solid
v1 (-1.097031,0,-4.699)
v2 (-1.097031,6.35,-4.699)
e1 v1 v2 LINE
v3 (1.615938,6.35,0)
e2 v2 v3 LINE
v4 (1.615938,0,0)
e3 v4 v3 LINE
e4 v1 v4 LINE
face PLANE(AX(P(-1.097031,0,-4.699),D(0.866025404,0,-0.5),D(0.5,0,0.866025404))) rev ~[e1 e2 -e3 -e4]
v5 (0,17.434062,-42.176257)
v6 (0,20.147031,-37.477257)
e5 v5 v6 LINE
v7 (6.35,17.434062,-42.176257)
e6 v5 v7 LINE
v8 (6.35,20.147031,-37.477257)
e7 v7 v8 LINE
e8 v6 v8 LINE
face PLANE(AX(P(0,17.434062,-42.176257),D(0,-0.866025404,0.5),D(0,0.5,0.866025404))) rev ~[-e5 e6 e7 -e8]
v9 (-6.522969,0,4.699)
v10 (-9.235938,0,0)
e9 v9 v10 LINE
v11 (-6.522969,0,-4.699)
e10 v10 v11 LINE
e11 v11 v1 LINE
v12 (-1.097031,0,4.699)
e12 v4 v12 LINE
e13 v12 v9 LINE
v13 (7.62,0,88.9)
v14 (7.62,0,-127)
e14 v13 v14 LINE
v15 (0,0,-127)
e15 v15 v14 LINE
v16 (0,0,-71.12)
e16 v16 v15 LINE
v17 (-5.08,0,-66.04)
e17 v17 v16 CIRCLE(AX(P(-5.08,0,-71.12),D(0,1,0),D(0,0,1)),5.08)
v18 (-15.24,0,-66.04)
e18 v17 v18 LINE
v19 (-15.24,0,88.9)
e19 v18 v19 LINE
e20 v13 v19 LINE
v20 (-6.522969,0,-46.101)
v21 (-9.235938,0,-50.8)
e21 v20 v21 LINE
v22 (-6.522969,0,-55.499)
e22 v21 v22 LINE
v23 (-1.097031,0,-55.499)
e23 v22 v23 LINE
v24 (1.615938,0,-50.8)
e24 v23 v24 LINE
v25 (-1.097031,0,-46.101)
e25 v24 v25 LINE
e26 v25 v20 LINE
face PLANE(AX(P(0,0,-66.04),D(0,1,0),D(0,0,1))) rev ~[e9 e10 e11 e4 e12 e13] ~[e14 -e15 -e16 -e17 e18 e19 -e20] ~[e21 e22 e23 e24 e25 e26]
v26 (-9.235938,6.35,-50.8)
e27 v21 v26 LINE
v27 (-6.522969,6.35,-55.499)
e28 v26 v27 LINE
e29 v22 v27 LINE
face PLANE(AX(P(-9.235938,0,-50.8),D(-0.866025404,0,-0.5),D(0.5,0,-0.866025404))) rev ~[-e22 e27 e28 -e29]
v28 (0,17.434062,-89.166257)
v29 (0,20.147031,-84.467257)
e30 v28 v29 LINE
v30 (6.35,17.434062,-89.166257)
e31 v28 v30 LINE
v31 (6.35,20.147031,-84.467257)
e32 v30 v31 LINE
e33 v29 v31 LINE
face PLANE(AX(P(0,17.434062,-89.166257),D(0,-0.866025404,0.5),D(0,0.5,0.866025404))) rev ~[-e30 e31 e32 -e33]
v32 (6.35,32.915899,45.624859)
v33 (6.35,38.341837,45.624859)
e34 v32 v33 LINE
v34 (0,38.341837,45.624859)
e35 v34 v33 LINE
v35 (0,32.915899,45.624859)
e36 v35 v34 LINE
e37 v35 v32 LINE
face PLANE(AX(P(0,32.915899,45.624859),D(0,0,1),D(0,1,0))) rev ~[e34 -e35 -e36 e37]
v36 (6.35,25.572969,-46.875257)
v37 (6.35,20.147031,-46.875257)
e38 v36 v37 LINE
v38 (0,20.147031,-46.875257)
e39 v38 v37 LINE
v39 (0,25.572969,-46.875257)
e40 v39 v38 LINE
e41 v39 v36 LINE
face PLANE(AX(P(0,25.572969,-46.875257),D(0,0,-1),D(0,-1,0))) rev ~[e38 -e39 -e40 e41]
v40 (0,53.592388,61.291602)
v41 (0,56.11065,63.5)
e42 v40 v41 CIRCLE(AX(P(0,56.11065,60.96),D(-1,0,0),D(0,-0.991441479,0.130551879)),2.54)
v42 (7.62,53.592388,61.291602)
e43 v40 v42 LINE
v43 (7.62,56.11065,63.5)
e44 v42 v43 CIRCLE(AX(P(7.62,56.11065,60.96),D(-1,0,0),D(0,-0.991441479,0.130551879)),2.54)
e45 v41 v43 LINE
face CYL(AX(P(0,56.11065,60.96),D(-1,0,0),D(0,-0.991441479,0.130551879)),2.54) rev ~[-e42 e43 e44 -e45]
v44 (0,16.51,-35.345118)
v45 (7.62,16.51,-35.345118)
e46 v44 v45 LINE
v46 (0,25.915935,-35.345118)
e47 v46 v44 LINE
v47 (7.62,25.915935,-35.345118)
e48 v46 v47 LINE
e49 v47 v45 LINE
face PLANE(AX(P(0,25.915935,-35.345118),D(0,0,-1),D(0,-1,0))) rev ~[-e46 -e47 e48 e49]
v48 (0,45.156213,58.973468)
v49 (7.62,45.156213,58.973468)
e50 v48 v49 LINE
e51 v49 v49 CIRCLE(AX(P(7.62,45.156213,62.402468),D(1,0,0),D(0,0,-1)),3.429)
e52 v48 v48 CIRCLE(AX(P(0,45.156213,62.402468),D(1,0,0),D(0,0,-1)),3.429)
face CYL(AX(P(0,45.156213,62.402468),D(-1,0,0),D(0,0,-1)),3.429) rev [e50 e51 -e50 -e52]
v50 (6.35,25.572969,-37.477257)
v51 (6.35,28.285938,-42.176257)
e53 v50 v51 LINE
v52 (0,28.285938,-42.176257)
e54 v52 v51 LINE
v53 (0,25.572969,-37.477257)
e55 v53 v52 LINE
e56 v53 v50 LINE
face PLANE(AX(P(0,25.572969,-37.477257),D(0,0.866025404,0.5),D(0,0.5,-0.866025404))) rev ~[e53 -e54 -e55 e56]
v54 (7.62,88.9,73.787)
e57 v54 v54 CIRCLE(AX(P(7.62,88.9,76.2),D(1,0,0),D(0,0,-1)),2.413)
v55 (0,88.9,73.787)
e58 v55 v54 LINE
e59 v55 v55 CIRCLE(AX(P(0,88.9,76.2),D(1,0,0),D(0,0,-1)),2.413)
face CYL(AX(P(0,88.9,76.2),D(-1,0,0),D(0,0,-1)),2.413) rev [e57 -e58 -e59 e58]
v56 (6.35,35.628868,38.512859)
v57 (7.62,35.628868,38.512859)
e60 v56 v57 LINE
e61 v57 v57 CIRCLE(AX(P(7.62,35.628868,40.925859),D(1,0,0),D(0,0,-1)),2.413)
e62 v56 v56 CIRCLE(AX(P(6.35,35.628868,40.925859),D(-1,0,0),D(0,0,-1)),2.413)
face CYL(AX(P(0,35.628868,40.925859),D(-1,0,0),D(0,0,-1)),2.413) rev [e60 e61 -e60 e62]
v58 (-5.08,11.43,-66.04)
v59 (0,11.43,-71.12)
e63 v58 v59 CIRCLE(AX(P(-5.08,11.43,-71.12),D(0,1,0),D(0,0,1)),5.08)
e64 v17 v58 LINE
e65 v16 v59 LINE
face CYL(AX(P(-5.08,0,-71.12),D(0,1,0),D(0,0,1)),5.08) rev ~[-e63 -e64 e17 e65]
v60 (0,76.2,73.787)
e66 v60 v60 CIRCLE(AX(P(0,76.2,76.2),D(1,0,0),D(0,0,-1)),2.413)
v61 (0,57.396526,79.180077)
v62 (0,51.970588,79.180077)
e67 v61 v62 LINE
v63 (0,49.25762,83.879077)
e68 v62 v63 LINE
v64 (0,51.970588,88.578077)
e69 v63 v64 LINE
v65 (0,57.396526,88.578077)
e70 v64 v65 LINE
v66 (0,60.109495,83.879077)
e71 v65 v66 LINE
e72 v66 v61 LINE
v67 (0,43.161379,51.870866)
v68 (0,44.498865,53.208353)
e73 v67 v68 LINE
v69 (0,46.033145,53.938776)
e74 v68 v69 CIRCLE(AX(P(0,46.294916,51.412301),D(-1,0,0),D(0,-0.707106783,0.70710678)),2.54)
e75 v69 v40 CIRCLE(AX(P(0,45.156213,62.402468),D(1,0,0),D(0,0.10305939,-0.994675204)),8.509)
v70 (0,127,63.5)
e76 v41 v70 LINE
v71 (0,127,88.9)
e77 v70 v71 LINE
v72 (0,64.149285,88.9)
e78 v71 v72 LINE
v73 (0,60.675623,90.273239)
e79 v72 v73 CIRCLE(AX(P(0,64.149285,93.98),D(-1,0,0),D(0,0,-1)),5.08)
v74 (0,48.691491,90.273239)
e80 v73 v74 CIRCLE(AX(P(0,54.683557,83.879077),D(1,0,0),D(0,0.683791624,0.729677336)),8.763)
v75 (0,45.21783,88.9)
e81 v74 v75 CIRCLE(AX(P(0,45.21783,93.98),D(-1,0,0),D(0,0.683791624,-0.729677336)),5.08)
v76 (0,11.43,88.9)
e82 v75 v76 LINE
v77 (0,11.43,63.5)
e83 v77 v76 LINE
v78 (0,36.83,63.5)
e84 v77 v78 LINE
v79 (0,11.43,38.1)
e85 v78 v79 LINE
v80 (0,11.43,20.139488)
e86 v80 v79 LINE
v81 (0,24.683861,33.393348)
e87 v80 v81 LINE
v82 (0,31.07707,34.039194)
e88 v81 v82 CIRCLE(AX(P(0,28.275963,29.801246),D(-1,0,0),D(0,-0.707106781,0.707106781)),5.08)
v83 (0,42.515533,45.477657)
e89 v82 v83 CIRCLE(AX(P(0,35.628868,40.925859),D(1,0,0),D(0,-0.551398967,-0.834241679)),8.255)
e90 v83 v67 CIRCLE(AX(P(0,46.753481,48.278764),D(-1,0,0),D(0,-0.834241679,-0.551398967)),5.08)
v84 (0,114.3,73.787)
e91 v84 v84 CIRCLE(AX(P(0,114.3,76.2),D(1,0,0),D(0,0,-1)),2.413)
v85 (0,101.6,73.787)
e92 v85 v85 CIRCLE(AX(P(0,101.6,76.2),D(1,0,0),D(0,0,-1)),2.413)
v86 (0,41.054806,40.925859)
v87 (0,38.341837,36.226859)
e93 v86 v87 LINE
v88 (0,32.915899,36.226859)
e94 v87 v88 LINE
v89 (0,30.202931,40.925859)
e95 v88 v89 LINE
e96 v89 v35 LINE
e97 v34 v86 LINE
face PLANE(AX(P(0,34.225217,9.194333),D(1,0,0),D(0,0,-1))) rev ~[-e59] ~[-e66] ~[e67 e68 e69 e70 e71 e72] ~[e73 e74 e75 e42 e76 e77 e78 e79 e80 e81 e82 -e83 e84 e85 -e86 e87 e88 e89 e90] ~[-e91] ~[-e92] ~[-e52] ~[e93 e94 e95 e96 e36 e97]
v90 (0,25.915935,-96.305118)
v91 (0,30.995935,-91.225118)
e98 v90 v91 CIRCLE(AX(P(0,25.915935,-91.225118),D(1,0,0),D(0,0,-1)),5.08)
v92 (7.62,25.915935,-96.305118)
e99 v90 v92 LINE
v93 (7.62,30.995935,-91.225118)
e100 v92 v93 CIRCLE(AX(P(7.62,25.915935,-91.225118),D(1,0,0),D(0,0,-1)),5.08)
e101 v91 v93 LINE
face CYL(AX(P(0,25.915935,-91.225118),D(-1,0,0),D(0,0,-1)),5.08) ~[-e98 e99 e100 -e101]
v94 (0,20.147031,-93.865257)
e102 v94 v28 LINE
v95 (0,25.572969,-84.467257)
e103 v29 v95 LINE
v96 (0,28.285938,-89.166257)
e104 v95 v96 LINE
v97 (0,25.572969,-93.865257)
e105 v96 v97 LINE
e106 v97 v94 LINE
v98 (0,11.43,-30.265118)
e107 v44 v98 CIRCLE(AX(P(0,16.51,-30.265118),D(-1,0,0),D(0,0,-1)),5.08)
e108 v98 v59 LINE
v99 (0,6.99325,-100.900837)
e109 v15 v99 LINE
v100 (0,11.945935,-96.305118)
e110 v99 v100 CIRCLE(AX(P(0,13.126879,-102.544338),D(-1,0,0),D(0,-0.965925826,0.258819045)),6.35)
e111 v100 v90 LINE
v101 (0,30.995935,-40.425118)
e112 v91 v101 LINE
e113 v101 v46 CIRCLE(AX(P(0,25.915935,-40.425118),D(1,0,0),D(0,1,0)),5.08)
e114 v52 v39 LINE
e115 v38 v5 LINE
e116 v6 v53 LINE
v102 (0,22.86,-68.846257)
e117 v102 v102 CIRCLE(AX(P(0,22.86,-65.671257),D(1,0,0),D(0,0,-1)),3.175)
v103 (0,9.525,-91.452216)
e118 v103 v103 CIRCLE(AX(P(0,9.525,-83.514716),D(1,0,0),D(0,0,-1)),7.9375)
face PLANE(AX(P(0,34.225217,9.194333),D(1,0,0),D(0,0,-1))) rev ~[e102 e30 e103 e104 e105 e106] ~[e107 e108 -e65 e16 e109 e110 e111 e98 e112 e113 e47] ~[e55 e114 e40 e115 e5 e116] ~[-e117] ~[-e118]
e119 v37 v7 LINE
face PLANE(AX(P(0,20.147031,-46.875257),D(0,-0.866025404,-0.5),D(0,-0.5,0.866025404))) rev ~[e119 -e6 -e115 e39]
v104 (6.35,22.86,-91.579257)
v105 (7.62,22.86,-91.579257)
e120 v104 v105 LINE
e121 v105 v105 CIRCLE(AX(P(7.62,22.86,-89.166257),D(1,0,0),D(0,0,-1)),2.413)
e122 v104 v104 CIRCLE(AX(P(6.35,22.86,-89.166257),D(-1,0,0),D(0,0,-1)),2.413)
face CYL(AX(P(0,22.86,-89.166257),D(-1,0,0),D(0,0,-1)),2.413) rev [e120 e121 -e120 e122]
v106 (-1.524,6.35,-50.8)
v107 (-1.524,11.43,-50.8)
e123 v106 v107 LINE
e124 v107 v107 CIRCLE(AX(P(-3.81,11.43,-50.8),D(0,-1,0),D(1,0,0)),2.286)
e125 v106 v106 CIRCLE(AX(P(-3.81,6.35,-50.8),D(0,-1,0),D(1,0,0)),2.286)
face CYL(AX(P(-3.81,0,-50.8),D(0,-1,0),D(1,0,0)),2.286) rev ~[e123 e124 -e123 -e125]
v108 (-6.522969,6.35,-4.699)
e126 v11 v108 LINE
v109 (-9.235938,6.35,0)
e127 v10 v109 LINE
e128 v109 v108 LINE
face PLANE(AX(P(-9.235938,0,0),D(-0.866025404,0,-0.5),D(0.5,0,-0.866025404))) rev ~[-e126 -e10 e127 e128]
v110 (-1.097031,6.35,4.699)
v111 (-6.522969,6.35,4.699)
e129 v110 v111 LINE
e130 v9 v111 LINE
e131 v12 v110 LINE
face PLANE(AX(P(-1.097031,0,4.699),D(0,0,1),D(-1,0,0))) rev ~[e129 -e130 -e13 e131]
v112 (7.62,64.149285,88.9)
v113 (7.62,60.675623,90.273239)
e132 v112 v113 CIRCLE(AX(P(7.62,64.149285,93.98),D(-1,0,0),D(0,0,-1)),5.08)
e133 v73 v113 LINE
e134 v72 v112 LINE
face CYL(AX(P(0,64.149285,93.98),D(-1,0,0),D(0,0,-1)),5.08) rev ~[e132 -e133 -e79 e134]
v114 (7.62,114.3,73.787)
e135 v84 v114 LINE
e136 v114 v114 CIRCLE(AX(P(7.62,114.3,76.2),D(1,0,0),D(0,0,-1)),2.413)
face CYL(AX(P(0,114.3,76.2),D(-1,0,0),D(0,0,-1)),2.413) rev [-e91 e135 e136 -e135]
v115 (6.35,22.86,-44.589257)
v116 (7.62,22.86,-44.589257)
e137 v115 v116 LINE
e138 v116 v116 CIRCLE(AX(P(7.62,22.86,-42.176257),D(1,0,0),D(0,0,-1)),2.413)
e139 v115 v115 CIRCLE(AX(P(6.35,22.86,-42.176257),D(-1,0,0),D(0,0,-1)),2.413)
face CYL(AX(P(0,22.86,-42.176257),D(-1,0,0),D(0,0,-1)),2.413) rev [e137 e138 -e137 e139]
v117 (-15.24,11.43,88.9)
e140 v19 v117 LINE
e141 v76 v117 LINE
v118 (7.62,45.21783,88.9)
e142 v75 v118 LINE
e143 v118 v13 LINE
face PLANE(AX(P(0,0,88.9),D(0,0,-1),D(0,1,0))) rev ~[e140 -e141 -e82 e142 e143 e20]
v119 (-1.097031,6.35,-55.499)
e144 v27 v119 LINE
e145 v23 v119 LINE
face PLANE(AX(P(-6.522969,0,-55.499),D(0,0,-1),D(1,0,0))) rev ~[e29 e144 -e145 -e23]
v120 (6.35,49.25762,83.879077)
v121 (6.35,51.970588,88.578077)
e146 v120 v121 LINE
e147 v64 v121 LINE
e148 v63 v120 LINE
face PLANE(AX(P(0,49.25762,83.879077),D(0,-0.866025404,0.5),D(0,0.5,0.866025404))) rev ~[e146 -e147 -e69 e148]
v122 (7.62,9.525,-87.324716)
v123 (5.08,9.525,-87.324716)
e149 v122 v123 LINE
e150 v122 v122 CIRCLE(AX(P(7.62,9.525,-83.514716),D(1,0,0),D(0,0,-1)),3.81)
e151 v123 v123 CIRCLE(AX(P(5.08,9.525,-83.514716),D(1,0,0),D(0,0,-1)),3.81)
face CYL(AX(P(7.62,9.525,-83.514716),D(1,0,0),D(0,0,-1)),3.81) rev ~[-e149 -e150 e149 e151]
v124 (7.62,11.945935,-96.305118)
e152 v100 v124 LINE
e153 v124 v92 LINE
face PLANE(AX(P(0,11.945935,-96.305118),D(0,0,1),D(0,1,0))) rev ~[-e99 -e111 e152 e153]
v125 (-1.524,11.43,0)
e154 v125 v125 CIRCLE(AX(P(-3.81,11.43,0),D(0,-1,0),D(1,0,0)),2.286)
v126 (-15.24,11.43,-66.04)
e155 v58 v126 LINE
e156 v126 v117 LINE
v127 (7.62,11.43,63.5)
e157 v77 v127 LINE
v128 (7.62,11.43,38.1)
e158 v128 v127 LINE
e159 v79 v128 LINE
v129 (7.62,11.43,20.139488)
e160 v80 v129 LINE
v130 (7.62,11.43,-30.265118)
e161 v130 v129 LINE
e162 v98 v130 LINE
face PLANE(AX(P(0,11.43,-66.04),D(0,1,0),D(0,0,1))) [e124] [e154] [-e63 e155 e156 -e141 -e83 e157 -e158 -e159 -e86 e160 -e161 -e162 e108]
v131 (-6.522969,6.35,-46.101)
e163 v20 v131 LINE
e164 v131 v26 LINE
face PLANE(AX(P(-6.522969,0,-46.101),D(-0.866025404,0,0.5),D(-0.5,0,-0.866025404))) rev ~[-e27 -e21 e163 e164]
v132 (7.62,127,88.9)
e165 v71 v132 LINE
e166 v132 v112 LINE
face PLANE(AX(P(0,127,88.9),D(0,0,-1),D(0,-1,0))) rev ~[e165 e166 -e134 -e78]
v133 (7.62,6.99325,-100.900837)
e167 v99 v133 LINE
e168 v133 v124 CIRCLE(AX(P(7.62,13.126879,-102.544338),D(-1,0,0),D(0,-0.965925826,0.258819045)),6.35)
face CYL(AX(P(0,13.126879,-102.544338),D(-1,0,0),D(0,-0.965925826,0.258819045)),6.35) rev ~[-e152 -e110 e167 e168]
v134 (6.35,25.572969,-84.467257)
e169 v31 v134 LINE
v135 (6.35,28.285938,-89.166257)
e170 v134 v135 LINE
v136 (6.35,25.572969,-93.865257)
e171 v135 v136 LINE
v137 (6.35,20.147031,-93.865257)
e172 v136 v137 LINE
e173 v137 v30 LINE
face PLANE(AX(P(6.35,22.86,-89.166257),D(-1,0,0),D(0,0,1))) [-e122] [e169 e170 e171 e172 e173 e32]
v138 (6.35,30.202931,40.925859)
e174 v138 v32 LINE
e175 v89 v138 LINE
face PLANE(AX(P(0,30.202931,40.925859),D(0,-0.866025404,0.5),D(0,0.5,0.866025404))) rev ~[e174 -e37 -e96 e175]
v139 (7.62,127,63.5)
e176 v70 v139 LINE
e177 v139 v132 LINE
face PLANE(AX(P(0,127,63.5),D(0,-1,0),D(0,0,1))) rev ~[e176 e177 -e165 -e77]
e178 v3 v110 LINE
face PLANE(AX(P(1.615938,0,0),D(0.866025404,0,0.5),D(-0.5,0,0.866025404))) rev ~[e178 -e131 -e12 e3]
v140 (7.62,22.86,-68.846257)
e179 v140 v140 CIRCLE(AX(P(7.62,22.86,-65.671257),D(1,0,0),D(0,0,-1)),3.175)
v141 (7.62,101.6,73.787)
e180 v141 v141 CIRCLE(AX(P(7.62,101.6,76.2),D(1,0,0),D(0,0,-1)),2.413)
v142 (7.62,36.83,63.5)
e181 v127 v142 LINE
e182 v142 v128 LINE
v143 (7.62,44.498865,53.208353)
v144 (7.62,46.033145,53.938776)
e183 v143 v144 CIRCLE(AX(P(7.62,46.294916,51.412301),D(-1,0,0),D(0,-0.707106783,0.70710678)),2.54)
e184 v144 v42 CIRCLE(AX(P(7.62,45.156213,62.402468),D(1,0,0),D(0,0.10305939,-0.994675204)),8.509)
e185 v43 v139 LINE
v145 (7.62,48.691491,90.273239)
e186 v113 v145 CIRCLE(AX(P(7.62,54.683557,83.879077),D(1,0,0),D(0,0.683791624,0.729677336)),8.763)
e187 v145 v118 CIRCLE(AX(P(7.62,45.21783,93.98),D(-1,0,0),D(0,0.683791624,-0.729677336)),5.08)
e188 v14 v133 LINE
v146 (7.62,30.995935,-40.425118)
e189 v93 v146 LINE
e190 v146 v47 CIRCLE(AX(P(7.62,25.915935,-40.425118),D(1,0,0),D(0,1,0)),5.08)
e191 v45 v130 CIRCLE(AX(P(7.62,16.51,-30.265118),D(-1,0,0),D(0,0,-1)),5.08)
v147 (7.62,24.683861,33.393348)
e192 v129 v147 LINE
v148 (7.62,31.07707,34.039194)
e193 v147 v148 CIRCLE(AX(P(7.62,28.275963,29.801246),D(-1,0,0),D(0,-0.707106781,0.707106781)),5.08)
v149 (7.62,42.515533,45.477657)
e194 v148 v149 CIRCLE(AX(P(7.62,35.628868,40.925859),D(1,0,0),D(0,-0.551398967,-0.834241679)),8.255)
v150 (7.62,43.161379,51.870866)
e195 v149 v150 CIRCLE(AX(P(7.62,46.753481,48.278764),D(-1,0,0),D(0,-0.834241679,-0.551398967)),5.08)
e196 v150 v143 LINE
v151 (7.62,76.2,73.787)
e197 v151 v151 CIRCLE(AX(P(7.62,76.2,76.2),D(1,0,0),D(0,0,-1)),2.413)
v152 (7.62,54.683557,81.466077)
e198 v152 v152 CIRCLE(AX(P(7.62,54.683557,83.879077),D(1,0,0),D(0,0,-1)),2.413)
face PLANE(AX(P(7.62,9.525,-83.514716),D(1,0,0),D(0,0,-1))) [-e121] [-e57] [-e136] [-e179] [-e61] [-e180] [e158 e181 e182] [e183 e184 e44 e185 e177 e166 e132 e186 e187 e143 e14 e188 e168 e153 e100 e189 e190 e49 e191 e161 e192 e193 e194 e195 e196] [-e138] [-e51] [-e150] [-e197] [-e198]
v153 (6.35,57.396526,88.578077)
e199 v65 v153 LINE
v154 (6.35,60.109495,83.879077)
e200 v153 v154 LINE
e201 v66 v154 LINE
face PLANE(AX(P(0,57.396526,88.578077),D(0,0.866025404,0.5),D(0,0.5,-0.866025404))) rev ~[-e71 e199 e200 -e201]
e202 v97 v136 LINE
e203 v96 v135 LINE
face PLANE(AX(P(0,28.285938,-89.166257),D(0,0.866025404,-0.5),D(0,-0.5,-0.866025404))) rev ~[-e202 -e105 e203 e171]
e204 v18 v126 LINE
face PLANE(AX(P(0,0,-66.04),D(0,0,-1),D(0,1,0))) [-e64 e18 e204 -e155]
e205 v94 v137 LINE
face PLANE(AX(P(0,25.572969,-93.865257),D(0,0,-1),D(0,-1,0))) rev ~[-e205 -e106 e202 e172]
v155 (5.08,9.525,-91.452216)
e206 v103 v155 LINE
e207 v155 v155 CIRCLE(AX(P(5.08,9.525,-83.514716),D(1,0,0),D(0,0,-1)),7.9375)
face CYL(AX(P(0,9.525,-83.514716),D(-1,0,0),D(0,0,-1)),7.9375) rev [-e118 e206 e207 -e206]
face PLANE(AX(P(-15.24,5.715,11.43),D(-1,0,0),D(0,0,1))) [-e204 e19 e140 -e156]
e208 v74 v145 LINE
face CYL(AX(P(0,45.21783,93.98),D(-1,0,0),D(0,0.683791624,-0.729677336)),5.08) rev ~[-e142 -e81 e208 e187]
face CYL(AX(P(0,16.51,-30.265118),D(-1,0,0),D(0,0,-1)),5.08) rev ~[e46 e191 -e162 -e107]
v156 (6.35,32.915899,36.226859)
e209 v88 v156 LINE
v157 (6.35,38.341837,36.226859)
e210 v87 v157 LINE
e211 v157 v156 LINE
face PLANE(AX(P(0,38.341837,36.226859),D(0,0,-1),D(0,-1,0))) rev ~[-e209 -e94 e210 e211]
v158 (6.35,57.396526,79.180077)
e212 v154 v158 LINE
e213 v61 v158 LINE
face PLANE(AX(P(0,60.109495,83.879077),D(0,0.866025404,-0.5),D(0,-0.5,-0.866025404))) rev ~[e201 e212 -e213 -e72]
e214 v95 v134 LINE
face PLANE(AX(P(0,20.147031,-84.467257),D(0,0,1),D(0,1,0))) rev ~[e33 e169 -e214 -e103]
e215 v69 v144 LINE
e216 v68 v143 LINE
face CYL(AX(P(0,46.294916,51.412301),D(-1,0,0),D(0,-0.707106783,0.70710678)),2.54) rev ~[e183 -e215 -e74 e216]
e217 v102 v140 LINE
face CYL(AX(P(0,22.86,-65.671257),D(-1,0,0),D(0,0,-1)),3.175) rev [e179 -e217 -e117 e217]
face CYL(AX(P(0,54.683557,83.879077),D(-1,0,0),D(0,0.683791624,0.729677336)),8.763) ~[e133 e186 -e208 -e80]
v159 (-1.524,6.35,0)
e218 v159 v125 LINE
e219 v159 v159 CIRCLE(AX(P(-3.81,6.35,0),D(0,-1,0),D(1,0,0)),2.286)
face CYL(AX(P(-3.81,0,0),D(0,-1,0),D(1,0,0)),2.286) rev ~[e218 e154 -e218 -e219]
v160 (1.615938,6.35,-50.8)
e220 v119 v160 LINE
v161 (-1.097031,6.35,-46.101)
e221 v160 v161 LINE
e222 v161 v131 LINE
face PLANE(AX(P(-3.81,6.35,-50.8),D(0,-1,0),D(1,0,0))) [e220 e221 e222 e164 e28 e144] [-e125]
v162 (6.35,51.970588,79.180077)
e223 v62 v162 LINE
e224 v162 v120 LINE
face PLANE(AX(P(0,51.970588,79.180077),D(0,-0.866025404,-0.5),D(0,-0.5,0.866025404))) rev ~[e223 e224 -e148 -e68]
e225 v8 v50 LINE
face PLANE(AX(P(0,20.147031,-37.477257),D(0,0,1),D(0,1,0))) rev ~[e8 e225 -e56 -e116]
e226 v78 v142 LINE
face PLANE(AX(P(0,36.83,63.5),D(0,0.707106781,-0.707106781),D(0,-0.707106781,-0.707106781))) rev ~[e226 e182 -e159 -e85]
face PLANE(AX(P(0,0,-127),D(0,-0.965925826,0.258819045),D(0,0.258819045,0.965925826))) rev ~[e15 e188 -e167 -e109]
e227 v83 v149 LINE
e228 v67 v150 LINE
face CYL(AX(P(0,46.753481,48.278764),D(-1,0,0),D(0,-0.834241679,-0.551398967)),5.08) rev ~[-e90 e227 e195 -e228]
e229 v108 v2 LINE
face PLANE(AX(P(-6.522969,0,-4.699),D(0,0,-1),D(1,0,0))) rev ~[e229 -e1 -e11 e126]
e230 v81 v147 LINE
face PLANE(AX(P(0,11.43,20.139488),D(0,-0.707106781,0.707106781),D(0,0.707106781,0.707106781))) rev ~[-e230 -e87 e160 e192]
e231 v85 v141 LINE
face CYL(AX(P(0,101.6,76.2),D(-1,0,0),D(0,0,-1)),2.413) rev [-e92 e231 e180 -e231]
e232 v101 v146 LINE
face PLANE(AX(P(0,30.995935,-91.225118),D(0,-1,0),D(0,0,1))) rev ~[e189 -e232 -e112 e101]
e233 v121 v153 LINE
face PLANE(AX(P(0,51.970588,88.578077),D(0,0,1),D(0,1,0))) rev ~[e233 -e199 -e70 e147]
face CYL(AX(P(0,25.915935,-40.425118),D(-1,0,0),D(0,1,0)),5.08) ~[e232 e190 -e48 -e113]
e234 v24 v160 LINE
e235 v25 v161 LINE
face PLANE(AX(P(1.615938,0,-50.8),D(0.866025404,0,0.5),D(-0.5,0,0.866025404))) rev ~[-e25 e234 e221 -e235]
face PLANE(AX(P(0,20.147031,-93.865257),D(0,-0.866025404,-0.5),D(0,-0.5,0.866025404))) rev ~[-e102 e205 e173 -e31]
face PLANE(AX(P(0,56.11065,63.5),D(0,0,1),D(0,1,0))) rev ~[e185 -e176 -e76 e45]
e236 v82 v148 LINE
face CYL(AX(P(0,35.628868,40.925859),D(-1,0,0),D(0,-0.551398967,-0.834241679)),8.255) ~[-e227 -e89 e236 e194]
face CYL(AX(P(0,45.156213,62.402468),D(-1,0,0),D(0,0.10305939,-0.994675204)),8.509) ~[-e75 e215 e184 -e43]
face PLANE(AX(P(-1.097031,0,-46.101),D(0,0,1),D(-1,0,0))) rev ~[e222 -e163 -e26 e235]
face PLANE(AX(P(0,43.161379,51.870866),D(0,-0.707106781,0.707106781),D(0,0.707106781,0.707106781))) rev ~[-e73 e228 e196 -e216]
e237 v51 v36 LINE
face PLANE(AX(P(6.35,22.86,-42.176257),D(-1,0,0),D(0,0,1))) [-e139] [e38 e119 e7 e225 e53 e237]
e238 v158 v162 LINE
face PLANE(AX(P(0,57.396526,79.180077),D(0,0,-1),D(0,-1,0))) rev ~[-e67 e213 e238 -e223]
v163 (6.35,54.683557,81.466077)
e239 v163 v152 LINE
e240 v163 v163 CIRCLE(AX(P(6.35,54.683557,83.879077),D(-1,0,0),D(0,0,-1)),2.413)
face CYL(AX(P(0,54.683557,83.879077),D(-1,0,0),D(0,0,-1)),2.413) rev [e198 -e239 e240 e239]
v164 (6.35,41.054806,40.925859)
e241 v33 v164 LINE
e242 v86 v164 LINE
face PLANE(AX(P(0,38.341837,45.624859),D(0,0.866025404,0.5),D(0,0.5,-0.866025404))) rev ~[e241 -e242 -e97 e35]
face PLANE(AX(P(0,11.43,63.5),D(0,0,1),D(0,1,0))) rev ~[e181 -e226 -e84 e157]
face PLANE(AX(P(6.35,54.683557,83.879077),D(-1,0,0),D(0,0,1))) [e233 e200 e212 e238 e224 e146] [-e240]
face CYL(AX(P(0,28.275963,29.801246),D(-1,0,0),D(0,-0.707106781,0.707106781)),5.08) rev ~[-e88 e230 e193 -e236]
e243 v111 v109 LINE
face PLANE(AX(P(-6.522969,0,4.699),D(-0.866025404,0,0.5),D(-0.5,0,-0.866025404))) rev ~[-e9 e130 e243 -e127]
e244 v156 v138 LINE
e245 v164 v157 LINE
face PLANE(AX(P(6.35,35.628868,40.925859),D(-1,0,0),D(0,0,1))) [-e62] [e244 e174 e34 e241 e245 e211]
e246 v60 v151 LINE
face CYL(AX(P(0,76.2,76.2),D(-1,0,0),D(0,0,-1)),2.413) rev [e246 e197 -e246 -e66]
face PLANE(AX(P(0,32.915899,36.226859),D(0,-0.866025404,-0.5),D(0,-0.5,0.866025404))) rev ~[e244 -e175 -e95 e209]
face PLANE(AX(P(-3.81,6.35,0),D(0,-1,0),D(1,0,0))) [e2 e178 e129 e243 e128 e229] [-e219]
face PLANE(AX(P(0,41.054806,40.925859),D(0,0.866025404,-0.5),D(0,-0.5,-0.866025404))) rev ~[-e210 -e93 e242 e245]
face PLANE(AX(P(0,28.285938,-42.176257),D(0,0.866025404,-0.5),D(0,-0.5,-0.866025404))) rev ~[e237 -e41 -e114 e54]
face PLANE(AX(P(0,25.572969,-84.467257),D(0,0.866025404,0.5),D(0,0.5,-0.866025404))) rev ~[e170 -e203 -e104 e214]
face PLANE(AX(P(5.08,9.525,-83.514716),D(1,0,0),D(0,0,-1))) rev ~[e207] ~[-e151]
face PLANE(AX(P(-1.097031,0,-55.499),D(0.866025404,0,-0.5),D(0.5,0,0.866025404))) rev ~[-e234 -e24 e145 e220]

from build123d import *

# Parameters (mm, degrees)
SKETCH1_R           = 7.9375
SKETCH1_R_2         = 2.413
SKETCH1_R_3         = 3.175
SKETCH1_R_4         = 3.429
BOSS_EXTRUDE1_DEPTH = 7.62
SKETCH2_R           = 7.9375
SKETCH2_R_2         = 3.81
BOSS_EXTRUDE2_DEPTH = 2.54
SKETCH3_W           = 154.94
SKETCH3_H           = 11.43
BOSS_EXTRUDE3_DEPTH = 15.24
FILLET1_R           = 5.08
SKETCH5_R           = 2.286
CUT_EXTRUDE1_DEPTH  = 128
CUT_EXTRUDE2_DEPTH  = 6.35
CUT_EXTRUDE3_DEPTH  = 6.35


with BuildPart() as part:
    # Sketch1 → Boss-Extrude1 (new body)
    with BuildSketch(Plane(origin=(0, 0, 0), x_dir=(0, 0, -1), z_dir=(1, 0, 0))):
        with BuildLine():
            Line((0, 0), (127, 0))
            Line((127, 0), (100.900837488, 6.993249518))
            ThreePointArc((100.900837488, 6.993249518), (97.889599245, 8.807630529), (96.305117976, 11.94593474))
            Line((96.305117976, 11.94593474), (96.305117976, 25.91593474))
            ThreePointArc((96.305117976, 25.91593474), (94.817220425, 29.508037188), (91.225117976, 30.99593474))
            Line((91.225117976, 30.99593474), (40.425117976, 30.99593474))
            ThreePointArc((40.425117976, 30.99593474), (36.833015528, 29.508037188), (35.345117976, 25.91593474))
            Line((35.345117976, 25.91593474), (35.345117976, 16.51))
            ThreePointArc((35.345117976, 16.51), (33.857220425, 12.917897552), (30.265117976, 11.43))
            Line((30.265117976, 11.43), (0, 11.43))
            Line((0, 11.43), (-20.139487758, 11.43))
            Line((-20.139487758, 11.43), (-33.393348427, 24.683860669))
            ThreePointArc((-33.393348427, 24.683860669), (-34.855521636, 27.76537759), (-34.039193709, 31.077069869))
            ThreePointArc((-34.039193709, 31.077069869), (-35.088692293, 41.466034818), (-45.477657242, 42.515533402))
            ThreePointArc((-45.477657242, 42.515533402), (-48.789349521, 41.699205475), (-51.870866442, 43.161378684))
            Line((-51.870866442, 43.161378684), (-53.208352597, 44.49886484))
            ThreePointArc((-53.208352597, 44.49886484), (-53.705674947, 45.203111295), (-53.938776392, 46.033145213))
            ThreePointArc((-53.938776392, 46.033145213), (-56.302994281, 51.089129932), (-61.291601771, 53.592388411))
            ThreePointArc((-61.291601771, 53.592388411), (-62.869694805, 54.435936137), (-63.5, 56.110649769))
            Line((-63.5, 56.110649769), (-63.5, 127))
            Line((-63.5, 127), (-88.9, 127))
            Line((-88.9, 127), (-88.9, 64.149284844))
            ThreePointArc((-88.9, 64.149284844), (-89.255767512, 62.281658704), (-90.273239134, 60.675623392))
            ThreePointArc((-90.273239134, 60.675623392), (-92.64207664, 54.683557387), (-90.273239134, 48.691491383))
            ThreePointArc((-90.273239134, 48.691491383), (-89.255767512, 47.085456071), (-88.9, 45.217829931))
            Line((-88.9, 45.217829931), (-88.9, 0))
            Line((-88.9, 0), (0, 0))
        make_face()
        with Locations((83.514716058, 9.525)):
            Circle(SKETCH1_R, mode=Mode.SUBTRACT)
        with Locations((-76.2, 114.3)):
            Circle(SKETCH1_R_2, mode=Mode.SUBTRACT)
        with Locations((-76.2, 88.9)):
            Circle(SKETCH1_R_2, mode=Mode.SUBTRACT)
        with Locations((-76.2, 101.6)):
            Circle(SKETCH1_R_2, mode=Mode.SUBTRACT)
        with Locations((-76.2, 76.2)):
            Circle(SKETCH1_R_2, mode=Mode.SUBTRACT)
        with Locations((65.671256734, 22.86)):
            Circle(SKETCH1_R_3, mode=Mode.SUBTRACT)
        with Locations((-62.402467706, 45.156212864)):
            Circle(SKETCH1_R_4, mode=Mode.SUBTRACT)
        with Locations((42.176256734, 22.86)):
            Circle(SKETCH1_R_2, mode=Mode.SUBTRACT)
        with Locations((89.166256734, 22.86)):
            Circle(SKETCH1_R_2, mode=Mode.SUBTRACT)
        with Locations((-83.87907664, 54.683557387)):
            Circle(SKETCH1_R_2, mode=Mode.SUBTRACT)
        with Locations((-40.925858771, 35.62886834)):
            Circle(SKETCH1_R_2, mode=Mode.SUBTRACT)
        Polygon((-63.5, 11.43), (-63.5, 36.83), (-38.1, 11.43), align=None, mode=Mode.SUBTRACT)
    extrude(amount=BOSS_EXTRUDE1_DEPTH)

    # Sketch2 → Boss-Extrude2 (add)
    with BuildSketch(Plane(origin=(7.62, 0, 0), x_dir=(0, 0, -1), z_dir=(1, 0, 0))):
        with Locations((83.514716058, 9.525)):
            Circle(SKETCH2_R)
        with Locations((83.514716058, 9.525)):
            Circle(SKETCH2_R_2, mode=Mode.SUBTRACT)
    extrude(amount=-BOSS_EXTRUDE2_DEPTH)

    # Sketch3 → Boss-Extrude3 (add)
    with BuildSketch(Plane.ZY):
        with Locations((11.43, 5.715)):
            Rectangle(SKETCH3_W, SKETCH3_H)
    extrude(amount=BOSS_EXTRUDE3_DEPTH)

    # Fillet1
    fillet1_edges = [part.edges().sort_by_distance(p)[0] for p in [
        (0, 5.715, -66.04),
    ]]
    fillet(fillet1_edges, radius=FILLET1_R)

    # Sketch5 → Cut-Extrude1 (cut, through all)
    with BuildSketch(Plane.XZ):
        with Locations((-3.81, -50.8)):
            Circle(SKETCH5_R)
        with Locations((-3.81, 0)):
            Circle(SKETCH5_R)
    extrude(amount=-CUT_EXTRUDE1_DEPTH, mode=Mode.SUBTRACT)

    # Sketch6 → Cut-Extrude2 (cut)
    with BuildSketch(Plane.XZ):
        Polygon((1.61593783, -50.8), (-1.097031085, -46.101), (-6.522968915, -46.101), (-9.23593783, -50.8), (-6.522968915, -55.499), (-1.097031085, -55.499), align=None)
        Polygon((-1.097031085, -4.699), (1.61593783, 0), (-1.097031085, 4.699), (-6.522968915, 4.699), (-9.23593783, 0), (-6.522968915, -4.699), align=None)
    extrude(amount=-CUT_EXTRUDE2_DEPTH, mode=Mode.SUBTRACT)

    # Sketch7 → Cut-Extrude3 (cut)
    with BuildSketch(Plane.ZY):
        Polygon((-84.467256734, 25.572968915), (-89.166256734, 28.28593783), (-93.865256734, 25.572968915), (-93.865256734, 20.147031085), (-89.166256734, 17.43406217), (-84.467256734, 20.147031085), align=None)
        Polygon((-37.477256734, 25.572968915), (-42.176256734, 28.28593783), (-46.875256734, 25.572968915), (-46.875256734, 20.147031085), (-42.176256734, 17.43406217), (-37.477256734, 20.147031085), align=None)
        Polygon((45.624858771, 38.341837255), (40.925858771, 41.054806169), (36.226858771, 38.341837255), (36.226858771, 32.915899425), (40.925858771, 30.20293051), (45.624858771, 32.915899425), align=None)
        Polygon((88.57807664, 57.396526302), (83.87907664, 60.109495217), (79.18007664, 57.396526302), (79.18007664, 51.970588472), (83.87907664, 49.257619558), (88.57807664, 51.970588472), align=None)
    extrude(amount=-CUT_EXTRUDE3_DEPTH, mode=Mode.SUBTRACT)


solid = part.part
